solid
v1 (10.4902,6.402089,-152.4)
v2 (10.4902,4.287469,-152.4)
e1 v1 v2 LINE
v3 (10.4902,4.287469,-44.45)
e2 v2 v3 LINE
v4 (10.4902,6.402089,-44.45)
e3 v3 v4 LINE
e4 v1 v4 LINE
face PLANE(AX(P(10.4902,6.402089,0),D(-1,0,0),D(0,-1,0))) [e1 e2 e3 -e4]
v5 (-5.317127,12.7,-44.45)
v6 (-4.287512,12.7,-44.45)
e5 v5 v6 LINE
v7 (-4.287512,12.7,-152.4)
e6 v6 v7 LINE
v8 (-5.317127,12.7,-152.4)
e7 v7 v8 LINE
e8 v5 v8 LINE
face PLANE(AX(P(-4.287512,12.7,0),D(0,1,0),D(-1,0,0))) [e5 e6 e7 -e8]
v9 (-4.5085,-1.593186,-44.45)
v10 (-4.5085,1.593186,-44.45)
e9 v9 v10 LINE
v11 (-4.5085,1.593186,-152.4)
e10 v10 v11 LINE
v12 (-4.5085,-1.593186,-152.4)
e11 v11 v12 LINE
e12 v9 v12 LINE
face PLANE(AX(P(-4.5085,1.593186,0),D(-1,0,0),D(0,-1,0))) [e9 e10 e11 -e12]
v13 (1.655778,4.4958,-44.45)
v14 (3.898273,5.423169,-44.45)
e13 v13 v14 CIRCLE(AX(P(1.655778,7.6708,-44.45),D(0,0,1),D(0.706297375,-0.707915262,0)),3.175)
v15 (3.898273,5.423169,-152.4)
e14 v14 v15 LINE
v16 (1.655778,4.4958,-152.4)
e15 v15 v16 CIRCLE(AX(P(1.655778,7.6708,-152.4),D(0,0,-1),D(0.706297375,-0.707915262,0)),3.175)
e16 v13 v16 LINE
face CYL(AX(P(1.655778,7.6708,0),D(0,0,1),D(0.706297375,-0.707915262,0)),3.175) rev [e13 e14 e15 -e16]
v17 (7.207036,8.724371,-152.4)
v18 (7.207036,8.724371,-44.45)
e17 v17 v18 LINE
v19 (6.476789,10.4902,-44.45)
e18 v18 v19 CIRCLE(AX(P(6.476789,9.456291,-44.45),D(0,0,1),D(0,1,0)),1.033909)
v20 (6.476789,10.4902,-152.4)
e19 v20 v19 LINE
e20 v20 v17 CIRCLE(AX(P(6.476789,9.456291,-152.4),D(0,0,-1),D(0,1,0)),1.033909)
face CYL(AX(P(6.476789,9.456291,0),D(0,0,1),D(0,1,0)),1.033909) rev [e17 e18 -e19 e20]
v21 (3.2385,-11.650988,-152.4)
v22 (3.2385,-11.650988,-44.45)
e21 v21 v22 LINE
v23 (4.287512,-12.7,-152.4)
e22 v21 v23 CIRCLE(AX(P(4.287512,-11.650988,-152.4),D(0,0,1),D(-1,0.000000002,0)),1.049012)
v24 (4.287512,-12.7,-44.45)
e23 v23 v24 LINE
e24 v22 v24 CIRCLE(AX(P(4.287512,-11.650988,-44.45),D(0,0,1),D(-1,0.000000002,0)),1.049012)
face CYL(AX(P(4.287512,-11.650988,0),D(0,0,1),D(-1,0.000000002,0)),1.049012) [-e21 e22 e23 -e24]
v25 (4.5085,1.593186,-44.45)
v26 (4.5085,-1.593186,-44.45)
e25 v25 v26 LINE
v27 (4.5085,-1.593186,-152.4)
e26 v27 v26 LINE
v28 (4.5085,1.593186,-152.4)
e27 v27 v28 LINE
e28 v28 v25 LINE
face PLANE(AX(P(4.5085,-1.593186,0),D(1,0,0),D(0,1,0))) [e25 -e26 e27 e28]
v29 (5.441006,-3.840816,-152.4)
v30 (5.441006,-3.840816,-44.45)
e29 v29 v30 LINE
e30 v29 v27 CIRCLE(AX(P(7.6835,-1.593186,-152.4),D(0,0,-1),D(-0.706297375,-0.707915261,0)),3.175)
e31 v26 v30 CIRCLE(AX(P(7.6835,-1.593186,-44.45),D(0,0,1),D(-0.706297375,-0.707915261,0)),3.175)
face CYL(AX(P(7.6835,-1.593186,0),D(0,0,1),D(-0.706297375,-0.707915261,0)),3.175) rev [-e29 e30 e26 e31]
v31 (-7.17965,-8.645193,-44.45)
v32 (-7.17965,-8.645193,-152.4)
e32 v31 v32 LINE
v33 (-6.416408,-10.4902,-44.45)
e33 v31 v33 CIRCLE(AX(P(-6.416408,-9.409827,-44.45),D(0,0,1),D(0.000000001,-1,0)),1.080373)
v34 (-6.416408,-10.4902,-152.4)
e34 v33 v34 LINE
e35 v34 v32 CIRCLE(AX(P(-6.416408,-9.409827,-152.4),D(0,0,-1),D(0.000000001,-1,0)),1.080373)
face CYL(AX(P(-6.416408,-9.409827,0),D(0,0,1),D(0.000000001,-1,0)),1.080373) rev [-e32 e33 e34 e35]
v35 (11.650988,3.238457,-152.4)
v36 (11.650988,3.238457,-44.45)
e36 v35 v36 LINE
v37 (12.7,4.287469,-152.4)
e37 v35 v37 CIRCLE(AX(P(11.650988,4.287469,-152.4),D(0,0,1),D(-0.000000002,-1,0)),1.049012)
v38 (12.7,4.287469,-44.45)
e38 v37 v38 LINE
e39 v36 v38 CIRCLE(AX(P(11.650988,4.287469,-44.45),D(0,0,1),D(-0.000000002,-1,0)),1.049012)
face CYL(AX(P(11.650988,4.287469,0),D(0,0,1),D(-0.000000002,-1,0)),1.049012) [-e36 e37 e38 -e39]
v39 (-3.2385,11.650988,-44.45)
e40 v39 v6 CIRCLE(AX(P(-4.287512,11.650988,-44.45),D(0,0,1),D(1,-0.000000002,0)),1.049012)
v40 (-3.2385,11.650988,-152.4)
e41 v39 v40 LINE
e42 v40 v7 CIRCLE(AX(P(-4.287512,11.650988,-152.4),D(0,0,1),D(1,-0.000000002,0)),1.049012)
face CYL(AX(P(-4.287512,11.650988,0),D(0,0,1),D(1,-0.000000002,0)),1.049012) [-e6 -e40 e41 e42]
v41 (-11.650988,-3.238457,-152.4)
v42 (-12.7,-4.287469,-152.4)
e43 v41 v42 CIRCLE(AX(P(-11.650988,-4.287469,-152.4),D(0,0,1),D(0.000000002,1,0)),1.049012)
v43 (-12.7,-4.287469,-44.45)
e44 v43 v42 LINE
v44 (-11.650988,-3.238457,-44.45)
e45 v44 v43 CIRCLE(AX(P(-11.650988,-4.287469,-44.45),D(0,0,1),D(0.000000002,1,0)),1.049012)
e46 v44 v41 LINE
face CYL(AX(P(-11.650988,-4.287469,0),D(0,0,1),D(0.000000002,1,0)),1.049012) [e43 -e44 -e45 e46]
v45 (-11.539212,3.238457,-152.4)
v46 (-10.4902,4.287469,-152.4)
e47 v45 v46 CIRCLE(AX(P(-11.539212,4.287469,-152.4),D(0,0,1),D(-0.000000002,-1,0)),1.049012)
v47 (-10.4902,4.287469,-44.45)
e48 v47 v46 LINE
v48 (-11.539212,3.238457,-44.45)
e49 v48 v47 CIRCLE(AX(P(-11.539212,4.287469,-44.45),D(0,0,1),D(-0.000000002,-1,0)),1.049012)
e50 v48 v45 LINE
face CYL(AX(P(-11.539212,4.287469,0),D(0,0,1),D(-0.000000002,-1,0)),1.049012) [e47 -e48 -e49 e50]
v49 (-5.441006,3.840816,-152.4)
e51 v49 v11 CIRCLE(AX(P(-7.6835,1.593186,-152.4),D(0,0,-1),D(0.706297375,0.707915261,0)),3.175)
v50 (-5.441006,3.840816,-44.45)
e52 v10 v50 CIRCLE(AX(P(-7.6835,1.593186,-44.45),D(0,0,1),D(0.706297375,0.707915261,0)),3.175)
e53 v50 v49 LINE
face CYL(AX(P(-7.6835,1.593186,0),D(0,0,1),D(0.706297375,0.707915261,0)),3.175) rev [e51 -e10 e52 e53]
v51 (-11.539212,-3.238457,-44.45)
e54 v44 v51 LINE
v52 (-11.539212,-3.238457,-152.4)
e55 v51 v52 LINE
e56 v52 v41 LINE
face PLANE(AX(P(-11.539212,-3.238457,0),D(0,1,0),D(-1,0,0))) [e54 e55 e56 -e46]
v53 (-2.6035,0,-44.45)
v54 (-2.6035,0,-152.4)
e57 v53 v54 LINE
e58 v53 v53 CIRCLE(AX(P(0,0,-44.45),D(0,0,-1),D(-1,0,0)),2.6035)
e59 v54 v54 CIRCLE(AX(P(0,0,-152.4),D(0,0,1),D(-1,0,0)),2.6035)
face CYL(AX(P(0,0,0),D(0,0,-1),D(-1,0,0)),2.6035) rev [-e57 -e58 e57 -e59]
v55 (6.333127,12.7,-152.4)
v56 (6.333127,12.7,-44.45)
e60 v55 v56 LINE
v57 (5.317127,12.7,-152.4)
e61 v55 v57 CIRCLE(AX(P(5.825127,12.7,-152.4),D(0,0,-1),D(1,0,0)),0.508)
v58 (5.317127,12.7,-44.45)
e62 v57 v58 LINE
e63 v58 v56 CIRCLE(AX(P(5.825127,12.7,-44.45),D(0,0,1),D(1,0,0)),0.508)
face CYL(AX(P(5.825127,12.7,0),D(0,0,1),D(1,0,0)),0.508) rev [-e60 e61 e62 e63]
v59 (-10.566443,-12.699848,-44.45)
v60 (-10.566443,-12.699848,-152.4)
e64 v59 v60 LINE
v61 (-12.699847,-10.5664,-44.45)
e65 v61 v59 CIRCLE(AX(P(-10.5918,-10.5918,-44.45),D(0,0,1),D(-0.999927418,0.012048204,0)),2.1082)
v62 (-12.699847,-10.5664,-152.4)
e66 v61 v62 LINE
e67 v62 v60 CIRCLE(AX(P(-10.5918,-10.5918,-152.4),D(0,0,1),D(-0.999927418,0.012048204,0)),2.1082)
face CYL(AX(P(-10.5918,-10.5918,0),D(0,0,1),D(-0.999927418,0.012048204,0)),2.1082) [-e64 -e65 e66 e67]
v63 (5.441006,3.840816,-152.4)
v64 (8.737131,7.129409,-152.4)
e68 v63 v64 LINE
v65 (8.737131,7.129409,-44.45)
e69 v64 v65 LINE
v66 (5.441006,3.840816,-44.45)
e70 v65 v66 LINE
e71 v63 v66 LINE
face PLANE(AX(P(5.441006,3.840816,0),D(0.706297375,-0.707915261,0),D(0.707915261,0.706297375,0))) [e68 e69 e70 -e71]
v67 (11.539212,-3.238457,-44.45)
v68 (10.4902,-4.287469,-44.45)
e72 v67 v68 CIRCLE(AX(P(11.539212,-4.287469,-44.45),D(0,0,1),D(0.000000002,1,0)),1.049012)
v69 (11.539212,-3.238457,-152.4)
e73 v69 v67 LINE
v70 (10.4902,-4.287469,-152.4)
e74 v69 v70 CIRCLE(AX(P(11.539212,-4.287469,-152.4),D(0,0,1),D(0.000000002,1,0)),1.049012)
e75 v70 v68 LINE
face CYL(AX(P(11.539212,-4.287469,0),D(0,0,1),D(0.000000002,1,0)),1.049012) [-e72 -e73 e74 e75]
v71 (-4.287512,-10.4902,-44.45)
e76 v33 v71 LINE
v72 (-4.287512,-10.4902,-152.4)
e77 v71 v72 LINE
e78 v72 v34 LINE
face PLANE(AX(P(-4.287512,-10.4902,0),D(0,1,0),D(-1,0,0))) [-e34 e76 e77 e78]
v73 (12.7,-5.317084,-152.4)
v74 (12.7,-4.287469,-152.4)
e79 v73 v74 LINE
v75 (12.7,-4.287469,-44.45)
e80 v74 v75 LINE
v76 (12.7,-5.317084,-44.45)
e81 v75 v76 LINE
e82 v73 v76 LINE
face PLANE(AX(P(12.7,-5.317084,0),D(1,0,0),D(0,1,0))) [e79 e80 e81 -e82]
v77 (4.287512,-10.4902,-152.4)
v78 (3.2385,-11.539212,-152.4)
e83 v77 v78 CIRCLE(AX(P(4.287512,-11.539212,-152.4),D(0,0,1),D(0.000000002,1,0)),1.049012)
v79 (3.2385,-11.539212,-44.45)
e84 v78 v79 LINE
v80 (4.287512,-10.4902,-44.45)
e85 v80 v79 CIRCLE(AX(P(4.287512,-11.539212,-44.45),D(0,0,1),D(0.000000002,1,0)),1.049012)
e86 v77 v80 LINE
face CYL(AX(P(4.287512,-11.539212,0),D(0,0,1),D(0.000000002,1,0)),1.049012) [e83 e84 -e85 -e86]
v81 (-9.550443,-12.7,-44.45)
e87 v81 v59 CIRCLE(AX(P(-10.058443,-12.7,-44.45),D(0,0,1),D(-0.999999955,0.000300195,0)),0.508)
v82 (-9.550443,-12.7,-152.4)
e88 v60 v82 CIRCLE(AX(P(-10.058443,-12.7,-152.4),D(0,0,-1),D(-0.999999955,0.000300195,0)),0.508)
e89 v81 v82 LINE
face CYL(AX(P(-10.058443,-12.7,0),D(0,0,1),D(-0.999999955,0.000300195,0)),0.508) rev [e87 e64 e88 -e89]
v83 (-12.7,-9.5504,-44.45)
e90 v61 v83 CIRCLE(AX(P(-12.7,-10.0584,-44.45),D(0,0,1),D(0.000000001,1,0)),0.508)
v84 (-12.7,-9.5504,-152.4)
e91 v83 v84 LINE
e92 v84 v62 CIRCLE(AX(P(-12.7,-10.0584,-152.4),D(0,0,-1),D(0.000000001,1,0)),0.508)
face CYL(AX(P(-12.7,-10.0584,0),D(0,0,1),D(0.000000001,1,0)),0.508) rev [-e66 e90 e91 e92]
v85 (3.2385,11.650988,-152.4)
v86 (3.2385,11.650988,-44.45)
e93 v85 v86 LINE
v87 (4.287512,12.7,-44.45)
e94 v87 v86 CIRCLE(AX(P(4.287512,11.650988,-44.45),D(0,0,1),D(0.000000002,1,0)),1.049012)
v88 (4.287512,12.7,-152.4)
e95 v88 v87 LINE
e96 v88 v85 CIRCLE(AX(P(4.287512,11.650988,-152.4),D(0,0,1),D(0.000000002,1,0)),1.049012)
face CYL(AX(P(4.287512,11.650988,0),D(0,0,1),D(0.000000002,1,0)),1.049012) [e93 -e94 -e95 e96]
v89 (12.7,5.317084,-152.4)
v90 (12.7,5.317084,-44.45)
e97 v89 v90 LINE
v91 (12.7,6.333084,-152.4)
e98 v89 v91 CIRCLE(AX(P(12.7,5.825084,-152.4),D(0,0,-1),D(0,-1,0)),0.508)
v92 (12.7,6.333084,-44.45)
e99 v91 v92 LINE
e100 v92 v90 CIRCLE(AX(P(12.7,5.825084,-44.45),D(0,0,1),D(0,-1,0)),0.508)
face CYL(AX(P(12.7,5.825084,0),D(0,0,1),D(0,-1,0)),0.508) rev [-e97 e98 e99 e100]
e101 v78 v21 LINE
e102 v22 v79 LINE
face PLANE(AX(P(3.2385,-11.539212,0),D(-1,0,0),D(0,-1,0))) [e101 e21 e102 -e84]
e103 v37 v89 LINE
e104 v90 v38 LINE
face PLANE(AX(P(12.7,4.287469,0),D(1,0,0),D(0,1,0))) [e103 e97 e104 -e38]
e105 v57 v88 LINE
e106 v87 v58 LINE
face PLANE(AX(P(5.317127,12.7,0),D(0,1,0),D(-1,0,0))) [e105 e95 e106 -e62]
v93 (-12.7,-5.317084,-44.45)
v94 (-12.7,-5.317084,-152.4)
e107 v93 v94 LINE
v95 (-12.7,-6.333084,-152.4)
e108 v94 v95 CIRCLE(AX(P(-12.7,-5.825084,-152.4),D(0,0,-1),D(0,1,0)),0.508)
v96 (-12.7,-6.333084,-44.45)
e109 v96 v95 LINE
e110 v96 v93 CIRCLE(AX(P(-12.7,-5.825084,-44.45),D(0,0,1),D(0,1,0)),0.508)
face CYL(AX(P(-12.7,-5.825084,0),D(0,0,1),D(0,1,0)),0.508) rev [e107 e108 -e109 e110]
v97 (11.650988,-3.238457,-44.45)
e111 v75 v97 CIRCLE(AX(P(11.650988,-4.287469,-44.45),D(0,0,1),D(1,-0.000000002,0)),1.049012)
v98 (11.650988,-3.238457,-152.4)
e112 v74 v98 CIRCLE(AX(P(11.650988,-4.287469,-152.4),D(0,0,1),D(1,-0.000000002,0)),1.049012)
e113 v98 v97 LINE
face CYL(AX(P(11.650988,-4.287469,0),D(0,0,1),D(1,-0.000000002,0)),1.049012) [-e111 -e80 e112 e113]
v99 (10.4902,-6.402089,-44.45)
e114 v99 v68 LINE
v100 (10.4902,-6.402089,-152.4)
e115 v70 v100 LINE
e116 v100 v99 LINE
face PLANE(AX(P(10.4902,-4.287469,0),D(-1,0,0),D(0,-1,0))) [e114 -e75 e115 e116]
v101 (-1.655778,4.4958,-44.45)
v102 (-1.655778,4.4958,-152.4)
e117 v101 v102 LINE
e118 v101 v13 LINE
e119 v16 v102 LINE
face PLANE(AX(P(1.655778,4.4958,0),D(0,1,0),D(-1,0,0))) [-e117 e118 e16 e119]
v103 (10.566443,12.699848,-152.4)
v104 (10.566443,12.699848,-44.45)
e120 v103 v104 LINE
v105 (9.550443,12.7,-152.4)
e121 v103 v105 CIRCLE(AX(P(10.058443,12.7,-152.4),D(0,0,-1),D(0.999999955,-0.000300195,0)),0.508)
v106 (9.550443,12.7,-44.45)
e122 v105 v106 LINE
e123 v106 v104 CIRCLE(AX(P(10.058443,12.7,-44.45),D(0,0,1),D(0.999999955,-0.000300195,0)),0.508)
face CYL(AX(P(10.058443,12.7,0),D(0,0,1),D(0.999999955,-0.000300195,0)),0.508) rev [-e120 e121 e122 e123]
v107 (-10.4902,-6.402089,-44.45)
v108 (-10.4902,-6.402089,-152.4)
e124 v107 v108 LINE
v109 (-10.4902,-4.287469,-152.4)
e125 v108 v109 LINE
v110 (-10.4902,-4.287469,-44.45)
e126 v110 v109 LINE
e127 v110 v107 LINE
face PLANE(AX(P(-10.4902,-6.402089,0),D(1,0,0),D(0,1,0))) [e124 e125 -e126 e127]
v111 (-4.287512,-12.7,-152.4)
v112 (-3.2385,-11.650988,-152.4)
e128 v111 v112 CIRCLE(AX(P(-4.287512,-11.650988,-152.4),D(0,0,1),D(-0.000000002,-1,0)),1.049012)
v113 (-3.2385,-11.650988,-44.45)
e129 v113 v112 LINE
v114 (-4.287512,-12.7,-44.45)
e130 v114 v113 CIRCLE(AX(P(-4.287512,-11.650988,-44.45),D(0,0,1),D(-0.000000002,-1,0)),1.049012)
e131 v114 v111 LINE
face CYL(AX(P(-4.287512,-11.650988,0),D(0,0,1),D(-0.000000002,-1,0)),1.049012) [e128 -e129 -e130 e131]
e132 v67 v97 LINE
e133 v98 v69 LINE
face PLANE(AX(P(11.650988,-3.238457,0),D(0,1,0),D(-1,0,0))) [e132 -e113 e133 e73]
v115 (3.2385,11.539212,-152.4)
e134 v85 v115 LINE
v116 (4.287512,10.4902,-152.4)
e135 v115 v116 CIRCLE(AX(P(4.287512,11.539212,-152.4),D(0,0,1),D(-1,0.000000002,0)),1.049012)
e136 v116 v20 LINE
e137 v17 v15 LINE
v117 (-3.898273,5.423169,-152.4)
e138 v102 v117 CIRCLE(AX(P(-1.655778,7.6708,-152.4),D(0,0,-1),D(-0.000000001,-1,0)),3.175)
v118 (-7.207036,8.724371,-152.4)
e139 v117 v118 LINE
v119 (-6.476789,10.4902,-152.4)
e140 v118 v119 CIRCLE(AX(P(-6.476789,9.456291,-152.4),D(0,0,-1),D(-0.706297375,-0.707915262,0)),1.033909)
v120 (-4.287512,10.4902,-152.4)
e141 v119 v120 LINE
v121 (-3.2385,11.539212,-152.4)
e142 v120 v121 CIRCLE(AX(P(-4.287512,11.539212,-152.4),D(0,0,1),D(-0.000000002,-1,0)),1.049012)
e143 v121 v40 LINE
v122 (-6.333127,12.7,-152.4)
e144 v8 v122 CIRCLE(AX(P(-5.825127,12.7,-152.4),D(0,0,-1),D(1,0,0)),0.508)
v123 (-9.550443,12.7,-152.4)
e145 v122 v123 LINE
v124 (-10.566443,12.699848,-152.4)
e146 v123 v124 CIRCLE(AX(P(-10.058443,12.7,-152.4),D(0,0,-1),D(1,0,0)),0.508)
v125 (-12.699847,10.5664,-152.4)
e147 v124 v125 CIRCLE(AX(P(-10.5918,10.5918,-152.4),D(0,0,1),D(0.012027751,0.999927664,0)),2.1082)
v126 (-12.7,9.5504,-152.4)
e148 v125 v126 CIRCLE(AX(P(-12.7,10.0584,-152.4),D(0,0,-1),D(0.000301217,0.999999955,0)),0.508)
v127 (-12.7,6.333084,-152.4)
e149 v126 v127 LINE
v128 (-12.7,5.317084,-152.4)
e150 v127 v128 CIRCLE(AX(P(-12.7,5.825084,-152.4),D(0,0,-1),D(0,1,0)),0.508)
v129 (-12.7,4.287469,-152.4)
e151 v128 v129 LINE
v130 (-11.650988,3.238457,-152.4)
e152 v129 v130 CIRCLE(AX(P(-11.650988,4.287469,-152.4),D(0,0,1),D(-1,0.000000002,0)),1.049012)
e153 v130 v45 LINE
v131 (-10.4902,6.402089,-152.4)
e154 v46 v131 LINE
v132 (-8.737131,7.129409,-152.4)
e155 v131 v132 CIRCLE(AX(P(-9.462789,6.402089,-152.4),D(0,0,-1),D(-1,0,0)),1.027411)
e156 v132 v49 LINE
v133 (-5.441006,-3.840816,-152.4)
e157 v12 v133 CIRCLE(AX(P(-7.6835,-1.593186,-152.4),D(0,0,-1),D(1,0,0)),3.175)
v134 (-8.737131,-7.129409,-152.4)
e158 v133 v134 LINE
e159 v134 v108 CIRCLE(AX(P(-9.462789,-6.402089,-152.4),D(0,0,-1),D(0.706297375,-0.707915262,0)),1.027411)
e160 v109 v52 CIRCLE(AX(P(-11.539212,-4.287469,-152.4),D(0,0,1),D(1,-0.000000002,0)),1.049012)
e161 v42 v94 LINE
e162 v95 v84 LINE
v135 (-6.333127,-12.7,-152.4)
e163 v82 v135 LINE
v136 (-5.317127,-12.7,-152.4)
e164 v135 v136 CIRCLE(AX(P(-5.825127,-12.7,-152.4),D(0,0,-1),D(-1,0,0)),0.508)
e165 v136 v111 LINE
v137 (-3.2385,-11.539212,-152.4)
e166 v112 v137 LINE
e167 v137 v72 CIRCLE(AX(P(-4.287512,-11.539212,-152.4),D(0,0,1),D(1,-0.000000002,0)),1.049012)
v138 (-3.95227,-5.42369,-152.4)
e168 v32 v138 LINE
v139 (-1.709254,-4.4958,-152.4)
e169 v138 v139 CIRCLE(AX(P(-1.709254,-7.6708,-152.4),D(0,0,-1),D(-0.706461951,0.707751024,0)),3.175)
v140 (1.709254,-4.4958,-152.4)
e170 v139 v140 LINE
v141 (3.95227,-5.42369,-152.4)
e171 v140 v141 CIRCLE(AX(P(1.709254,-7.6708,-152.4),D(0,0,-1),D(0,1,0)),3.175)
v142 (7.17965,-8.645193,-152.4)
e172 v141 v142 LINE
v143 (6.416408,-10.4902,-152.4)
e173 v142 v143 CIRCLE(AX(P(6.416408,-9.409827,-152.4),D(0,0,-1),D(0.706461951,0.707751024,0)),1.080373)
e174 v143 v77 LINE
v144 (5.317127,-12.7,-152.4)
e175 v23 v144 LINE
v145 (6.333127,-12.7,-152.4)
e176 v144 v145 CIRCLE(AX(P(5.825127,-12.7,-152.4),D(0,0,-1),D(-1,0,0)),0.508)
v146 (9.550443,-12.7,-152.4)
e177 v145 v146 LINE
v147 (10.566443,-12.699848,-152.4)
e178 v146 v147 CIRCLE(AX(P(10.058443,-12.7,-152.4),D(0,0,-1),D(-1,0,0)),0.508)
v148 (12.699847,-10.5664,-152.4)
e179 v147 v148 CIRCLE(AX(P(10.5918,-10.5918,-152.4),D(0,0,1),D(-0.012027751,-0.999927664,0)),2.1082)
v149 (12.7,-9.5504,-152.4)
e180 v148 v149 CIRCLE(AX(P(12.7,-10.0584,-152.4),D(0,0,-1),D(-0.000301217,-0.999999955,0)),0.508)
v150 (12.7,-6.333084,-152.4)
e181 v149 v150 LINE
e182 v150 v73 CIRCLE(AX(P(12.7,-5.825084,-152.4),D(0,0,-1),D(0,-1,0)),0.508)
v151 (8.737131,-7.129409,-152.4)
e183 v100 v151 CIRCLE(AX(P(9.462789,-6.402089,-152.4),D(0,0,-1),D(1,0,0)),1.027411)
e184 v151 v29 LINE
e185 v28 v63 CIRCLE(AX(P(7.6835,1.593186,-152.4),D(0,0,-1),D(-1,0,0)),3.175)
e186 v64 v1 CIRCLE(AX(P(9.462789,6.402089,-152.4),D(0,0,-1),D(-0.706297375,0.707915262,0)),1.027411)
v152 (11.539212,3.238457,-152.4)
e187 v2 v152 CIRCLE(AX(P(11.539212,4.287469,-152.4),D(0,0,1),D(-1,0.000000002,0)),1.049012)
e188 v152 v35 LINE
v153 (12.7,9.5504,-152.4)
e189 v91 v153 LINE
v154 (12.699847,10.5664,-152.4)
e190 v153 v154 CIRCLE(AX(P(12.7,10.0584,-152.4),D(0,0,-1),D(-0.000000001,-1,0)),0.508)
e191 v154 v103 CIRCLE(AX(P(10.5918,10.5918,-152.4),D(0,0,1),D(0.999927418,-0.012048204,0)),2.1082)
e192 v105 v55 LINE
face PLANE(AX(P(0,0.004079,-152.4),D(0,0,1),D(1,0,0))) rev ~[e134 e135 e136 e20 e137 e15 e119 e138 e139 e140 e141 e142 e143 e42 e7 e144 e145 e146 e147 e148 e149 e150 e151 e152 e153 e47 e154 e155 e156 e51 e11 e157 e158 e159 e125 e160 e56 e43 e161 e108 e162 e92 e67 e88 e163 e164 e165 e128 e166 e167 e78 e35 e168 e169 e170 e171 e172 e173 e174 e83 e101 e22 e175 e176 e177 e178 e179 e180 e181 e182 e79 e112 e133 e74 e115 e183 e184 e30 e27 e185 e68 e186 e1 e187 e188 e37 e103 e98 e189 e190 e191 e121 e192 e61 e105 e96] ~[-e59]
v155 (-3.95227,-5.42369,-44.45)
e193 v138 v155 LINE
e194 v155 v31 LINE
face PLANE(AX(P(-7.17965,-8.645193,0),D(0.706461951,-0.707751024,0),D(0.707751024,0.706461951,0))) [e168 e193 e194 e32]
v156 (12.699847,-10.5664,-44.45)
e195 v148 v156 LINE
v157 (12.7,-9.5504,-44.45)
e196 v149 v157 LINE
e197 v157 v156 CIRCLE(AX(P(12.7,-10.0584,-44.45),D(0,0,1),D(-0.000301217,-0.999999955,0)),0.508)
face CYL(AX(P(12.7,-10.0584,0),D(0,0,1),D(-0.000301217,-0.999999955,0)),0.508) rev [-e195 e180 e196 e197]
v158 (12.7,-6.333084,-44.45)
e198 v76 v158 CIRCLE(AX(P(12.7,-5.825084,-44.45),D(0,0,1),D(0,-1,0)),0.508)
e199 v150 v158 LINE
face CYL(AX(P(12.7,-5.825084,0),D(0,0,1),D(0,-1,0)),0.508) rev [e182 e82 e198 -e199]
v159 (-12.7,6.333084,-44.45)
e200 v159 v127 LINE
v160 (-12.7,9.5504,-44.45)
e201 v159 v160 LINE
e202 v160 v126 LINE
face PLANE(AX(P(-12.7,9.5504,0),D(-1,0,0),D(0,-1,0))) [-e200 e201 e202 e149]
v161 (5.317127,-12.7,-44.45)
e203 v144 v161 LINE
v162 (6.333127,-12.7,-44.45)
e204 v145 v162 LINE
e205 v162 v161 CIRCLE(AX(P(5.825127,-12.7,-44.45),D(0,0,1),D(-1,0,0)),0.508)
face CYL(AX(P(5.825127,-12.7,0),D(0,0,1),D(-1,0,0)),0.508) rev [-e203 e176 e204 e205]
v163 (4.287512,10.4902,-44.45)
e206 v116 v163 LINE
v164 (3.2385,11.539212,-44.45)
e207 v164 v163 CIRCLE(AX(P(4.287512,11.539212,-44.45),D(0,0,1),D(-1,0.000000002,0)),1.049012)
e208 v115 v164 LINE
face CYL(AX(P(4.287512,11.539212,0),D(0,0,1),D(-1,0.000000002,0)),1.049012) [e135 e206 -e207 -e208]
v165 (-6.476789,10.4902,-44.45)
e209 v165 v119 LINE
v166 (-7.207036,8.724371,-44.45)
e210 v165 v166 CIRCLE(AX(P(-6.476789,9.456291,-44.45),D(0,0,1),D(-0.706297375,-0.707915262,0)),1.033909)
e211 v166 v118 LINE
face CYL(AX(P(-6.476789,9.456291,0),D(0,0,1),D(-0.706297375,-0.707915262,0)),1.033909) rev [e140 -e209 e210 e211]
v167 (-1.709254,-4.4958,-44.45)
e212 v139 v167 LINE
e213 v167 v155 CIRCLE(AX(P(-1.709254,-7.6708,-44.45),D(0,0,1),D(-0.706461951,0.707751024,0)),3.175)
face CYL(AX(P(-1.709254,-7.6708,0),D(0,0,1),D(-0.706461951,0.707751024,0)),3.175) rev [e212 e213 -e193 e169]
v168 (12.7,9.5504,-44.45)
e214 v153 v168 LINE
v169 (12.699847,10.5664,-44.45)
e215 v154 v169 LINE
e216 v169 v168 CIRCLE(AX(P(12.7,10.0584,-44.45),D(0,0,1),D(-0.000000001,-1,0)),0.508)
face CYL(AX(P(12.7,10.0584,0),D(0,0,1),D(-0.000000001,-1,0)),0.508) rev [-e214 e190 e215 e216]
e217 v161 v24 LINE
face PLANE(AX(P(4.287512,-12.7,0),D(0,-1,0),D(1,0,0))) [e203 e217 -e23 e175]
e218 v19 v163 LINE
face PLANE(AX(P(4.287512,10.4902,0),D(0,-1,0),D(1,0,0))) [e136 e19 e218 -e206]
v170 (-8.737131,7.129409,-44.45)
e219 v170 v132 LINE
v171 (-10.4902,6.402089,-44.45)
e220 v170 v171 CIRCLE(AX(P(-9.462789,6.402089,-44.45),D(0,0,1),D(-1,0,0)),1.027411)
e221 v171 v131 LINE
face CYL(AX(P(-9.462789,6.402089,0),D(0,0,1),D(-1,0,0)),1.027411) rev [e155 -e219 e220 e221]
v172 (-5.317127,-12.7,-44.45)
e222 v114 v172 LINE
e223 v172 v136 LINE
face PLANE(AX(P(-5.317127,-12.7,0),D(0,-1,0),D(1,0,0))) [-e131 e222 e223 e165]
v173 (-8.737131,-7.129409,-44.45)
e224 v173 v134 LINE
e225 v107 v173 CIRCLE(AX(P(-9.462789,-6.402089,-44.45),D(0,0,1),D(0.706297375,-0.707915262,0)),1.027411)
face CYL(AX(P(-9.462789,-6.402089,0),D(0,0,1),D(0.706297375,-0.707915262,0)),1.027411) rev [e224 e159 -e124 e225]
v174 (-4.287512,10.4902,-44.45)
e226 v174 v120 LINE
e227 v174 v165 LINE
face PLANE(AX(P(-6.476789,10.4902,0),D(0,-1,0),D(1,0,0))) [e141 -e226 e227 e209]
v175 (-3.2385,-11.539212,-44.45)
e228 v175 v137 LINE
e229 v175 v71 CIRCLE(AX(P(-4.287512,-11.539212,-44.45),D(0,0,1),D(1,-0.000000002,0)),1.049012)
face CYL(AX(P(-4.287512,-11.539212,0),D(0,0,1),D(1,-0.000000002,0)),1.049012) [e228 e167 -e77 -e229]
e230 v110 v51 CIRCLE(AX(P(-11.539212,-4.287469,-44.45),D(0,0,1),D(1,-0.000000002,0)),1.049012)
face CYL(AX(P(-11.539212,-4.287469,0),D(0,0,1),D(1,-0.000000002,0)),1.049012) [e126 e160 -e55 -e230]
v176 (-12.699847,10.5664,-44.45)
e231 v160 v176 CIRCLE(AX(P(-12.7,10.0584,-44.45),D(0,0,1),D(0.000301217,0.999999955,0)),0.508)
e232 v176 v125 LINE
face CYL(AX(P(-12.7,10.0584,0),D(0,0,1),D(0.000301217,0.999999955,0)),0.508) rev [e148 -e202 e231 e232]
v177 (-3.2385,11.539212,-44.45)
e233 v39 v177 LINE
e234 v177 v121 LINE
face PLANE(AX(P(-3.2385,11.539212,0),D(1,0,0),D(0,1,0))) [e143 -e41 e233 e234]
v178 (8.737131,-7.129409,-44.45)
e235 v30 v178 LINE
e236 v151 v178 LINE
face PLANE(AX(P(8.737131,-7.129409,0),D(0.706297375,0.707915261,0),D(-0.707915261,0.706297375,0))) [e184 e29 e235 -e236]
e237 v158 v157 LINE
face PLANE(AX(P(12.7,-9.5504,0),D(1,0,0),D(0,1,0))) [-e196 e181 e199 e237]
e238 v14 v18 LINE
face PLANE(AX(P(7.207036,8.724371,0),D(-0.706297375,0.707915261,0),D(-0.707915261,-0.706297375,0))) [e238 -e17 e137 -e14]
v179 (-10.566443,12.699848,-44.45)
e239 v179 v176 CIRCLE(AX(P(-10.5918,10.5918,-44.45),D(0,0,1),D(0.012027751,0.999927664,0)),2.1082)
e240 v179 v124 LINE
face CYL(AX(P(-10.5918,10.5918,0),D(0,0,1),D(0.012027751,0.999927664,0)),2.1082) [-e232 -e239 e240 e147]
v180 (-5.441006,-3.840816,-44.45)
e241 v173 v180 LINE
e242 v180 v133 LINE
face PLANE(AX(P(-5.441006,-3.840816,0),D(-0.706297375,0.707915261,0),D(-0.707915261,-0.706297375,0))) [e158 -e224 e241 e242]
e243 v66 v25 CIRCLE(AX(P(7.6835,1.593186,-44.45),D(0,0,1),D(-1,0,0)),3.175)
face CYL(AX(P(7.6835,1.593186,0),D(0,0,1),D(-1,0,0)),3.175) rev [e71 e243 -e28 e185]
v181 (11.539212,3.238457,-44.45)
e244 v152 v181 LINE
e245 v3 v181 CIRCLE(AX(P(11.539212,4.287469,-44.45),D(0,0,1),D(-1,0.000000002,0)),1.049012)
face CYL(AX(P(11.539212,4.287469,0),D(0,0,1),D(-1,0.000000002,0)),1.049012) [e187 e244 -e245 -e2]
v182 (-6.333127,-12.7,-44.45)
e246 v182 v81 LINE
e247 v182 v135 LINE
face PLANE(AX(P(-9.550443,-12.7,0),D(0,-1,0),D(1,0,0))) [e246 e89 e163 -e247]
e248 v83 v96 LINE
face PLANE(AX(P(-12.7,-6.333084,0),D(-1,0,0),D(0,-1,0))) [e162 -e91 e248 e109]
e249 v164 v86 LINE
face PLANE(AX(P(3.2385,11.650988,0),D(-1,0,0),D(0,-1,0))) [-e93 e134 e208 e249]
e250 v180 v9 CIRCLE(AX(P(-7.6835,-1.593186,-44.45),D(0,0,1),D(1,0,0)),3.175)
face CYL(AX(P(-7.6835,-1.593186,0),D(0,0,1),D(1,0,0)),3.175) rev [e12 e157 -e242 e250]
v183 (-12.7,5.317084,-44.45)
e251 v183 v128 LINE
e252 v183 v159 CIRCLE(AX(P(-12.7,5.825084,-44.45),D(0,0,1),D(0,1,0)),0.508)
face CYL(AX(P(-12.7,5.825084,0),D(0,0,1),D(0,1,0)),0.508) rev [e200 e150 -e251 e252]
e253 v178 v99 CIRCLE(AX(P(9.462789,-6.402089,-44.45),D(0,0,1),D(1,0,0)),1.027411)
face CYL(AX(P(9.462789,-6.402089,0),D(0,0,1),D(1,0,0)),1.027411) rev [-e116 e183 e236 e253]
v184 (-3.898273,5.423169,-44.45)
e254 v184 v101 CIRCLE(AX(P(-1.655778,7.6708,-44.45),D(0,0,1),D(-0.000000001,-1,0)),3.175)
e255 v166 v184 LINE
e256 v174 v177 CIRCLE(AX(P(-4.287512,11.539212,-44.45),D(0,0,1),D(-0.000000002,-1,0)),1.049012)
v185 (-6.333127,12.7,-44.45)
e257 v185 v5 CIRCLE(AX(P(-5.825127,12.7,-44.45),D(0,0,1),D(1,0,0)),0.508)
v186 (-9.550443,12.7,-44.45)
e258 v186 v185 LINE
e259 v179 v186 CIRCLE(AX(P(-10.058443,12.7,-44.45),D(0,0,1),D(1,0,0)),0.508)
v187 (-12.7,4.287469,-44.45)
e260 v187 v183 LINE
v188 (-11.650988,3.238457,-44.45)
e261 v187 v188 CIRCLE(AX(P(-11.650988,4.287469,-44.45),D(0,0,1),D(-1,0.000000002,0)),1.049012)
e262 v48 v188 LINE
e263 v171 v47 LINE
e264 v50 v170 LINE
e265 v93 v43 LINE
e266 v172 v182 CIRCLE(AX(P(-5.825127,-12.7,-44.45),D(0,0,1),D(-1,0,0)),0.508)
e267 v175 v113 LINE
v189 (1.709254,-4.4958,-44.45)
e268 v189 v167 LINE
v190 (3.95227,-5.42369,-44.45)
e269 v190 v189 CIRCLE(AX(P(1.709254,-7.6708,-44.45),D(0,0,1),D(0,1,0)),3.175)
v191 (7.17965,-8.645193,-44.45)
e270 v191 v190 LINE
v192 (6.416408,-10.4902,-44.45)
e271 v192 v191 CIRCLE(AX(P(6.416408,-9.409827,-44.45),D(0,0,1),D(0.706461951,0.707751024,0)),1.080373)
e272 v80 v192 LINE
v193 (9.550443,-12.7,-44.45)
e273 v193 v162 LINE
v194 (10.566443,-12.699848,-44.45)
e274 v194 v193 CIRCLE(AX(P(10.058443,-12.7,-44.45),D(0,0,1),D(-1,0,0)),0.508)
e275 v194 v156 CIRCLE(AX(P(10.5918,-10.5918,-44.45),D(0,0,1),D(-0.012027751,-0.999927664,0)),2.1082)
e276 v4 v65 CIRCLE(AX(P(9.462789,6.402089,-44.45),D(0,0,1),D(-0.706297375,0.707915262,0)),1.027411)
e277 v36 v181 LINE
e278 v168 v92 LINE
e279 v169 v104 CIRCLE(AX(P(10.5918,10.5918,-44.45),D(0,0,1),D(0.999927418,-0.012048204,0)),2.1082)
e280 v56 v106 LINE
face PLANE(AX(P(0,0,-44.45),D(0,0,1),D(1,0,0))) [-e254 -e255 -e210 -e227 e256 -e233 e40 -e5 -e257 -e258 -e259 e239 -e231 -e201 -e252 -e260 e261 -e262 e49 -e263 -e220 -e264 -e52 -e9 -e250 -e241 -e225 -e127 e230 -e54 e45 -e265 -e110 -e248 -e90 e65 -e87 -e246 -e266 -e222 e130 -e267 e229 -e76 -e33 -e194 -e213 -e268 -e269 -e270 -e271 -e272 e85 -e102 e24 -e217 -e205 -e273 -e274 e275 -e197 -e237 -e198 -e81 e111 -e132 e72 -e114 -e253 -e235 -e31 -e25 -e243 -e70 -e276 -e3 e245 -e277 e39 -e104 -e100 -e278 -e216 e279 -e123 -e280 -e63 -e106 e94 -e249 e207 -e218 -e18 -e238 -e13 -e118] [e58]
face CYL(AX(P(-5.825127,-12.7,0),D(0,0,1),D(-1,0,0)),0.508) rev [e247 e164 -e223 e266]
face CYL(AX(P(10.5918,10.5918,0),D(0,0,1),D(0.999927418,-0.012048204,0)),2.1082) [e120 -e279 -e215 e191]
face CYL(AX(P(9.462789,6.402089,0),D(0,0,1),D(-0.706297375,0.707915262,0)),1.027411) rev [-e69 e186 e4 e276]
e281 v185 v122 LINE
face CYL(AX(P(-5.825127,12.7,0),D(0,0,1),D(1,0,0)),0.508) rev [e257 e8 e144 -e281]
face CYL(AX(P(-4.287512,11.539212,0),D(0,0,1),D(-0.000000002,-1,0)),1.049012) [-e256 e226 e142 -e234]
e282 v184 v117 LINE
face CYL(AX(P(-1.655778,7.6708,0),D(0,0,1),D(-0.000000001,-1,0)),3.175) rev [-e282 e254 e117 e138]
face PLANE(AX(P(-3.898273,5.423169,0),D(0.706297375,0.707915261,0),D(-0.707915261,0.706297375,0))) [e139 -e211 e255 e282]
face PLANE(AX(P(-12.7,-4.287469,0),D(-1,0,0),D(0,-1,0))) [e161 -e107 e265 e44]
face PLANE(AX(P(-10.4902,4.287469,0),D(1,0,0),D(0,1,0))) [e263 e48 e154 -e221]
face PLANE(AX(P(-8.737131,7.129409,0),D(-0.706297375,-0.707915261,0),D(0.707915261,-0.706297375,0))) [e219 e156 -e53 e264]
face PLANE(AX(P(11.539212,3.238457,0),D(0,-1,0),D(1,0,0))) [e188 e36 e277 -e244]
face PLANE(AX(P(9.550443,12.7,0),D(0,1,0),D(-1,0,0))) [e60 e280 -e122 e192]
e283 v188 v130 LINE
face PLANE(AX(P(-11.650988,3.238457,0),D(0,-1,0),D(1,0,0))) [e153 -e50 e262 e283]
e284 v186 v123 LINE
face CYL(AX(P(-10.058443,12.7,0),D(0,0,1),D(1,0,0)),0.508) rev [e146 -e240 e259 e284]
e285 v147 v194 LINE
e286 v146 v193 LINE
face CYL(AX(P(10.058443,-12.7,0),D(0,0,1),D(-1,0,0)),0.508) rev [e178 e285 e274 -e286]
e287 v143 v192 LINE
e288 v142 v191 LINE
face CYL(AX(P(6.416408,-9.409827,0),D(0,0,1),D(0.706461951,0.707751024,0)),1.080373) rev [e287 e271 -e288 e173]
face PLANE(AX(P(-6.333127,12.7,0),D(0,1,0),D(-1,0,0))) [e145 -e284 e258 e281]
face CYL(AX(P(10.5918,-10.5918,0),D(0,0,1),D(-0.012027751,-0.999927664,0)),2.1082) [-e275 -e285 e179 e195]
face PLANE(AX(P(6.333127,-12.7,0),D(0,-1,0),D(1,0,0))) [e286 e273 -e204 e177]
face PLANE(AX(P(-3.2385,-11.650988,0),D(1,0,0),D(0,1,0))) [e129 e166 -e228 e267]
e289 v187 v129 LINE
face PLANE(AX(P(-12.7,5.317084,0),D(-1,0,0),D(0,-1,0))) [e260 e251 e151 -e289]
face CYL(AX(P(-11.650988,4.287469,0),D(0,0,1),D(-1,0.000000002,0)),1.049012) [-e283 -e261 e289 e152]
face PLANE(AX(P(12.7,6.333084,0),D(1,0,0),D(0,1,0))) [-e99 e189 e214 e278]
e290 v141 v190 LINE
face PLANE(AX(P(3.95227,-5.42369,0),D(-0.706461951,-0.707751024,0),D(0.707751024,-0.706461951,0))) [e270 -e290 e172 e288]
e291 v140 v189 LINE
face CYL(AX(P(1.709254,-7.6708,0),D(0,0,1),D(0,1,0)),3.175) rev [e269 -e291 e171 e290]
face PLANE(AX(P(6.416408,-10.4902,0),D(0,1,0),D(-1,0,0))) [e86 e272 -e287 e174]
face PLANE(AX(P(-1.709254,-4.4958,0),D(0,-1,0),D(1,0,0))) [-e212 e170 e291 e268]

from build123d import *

# Parameters (mm, degrees)
SKETCH1_R           = 2.6035
BOSS_EXTRUDE1_DEPTH = 152.4
SKETCH2_R           = 22.79263682
CUT_EXTRUDE1_DEPTH  = 196.85


with BuildPart() as part:
    # Sketch1 → Boss-Extrude1 (new, symmetric)
    with BuildSketch(Plane.XY):
        with BuildLine():
            Line((-7.179650497, -8.645192506), (-3.952270251, -5.423690499))
            ThreePointArc((-3.952270251, -5.423690499), (-2.922936451, -4.736929036), (-1.709253557, -4.4958))
            Line((-1.709253557, -4.4958), (1.709253557, -4.4958))
            ThreePointArc((1.709253557, -4.4958), (2.922936451, -4.736929036), (3.952270251, -5.423690499))
            Line((3.952270251, -5.423690499), (7.179650497, -8.645192506))
            ThreePointArc((7.179650497, -8.645192506), (7.41473083, -9.822813117), (6.416408329, -10.4902))
            Line((6.416408329, -10.4902), (4.287512407, -10.4902))
            ThreePointArc((4.287512407, -10.4902), (3.54574862, -10.79744862), (3.2385, -11.539212407))
            Line((3.2385, -11.539212407), (3.2385, -11.650987593))
            ThreePointArc((3.2385, -11.650987593), (3.54574862, -12.39275138), (4.287512407, -12.7))
            Line((4.287512407, -12.7), (5.317126718, -12.7))
            ThreePointArc((5.317126718, -12.7), (5.825126718, -12.192), (6.333126718, -12.7))
            Line((6.333126718, -12.7), (9.550443118, -12.7))
            ThreePointArc((9.550443118, -12.7), (10.058366869, -12.192000006), (10.566443095, -12.699847501))
            ThreePointArc((10.566443095, -12.699847501), (12.082537762, -12.08250727), (12.699846982, -10.566399977))
            ThreePointArc((12.699846982, -10.566399977), (12.192000006, -10.058323491), (12.7, -9.5504))
            Line((12.7, -9.5504), (12.7, -6.3330836))
            ThreePointArc((12.7, -6.3330836), (12.192, -5.8250836), (12.7, -5.3170836))
            Line((12.7, -5.3170836), (12.7, -4.287469289))
            ThreePointArc((12.7, -4.287469289), (12.39275138, -3.545705502), (11.650987593, -3.238456882))
            Line((11.650987593, -3.238456882), (11.539212407, -3.238456882))
            ThreePointArc((11.539212407, -3.238456882), (10.79744862, -3.545705502), (10.4902, -4.287469289))
            Line((10.4902, -4.287469289), (10.4902, -6.402089023))
            ThreePointArc((10.4902, -6.402089023), (9.856505071, -7.351067942), (8.737131347, -7.129408934))
            Line((8.737131347, -7.129408934), (5.441005833, -3.840816462))
            ThreePointArc((5.441005833, -3.840816462), (4.750877967, -2.809883091), (4.5085, -1.593185507))
            Line((4.5085, -1.593185507), (4.5085, 1.593185507))
            ThreePointArc((4.5085, 1.593185507), (4.750877967, 2.809883091), (5.441005833, 3.840816462))
            Line((5.441005833, 3.840816462), (8.737131347, 7.129408934))
            ThreePointArc((8.737131347, 7.129408934), (9.856505071, 7.351067942), (10.4902, 6.402089023))
            Line((10.4902, 6.402089023), (10.4902, 4.287469289))
            ThreePointArc((10.4902, 4.287469289), (10.79744862, 3.545705502), (11.539212407, 3.238456882))
            Line((11.539212407, 3.238456882), (11.650987593, 3.238456882))
            ThreePointArc((11.650987593, 3.238456882), (12.39275138, 3.545705502), (12.7, 4.287469289))
            Line((12.7, 4.287469289), (12.7, 5.3170836))
            ThreePointArc((12.7, 5.3170836), (12.192, 5.8250836), (12.7, 6.3330836))
            Line((12.7, 6.3330836), (12.7, 9.5504))
            ThreePointArc((12.7, 9.5504), (12.192000006, 10.058323491), (12.699846982, 10.566399977))
            ThreePointArc((12.699846982, 10.566399977), (12.082537762, 12.08250727), (10.566443095, 12.699847501))
            ThreePointArc((10.566443095, 12.699847501), (10.058366869, 12.192000006), (9.550443118, 12.7))
            Line((9.550443118, 12.7), (6.333126718, 12.7))
            ThreePointArc((6.333126718, 12.7), (5.825126718, 12.192), (5.317126718, 12.7))
            Line((5.317126718, 12.7), (4.287512407, 12.7))
            ThreePointArc((4.287512407, 12.7), (3.54574862, 12.39275138), (3.2385, 11.650987593))
            Line((3.2385, 11.650987593), (3.2385, 11.539212407))
            ThreePointArc((3.2385, 11.539212407), (3.54574862, 10.79744862), (4.287512407, 10.4902))
            Line((4.287512407, 10.4902), (6.476788598, 10.4902))
            ThreePointArc((6.476788598, 10.4902), (7.432222385, 9.85140422), (7.207036008, 8.724370562))
            Line((7.207036008, 8.724370562), (3.898272566, 5.423169045))
            ThreePointArc((3.898272566, 5.423169045), (2.869120213, 4.736787962), (1.655778399, 4.4958))
            Line((1.655778399, 4.4958), (-1.655778399, 4.4958))
            ThreePointArc((-1.655778399, 4.4958), (-2.869120213, 4.736787962), (-3.898272566, 5.423169045))
            Line((-3.898272566, 5.423169045), (-7.207036008, 8.724370562))
            ThreePointArc((-7.207036008, 8.724370562), (-7.432222385, 9.85140422), (-6.476788598, 10.4902))
            Line((-6.476788598, 10.4902), (-4.287512407, 10.4902))
            ThreePointArc((-4.287512407, 10.4902), (-3.54574862, 10.79744862), (-3.2385, 11.539212407))
            Line((-3.2385, 11.539212407), (-3.2385, 11.650987593))
            ThreePointArc((-3.2385, 11.650987593), (-3.54574862, 12.39275138), (-4.287512407, 12.7))
            Line((-4.287512407, 12.7), (-5.317126718, 12.7))
            ThreePointArc((-5.317126718, 12.7), (-5.825126718, 12.192), (-6.333126718, 12.7))
            Line((-6.333126718, 12.7), (-9.550443118, 12.7))
            ThreePointArc((-9.550443118, 12.7), (-10.058366869, 12.192000006), (-10.566443095, 12.699847501))
            ThreePointArc((-10.566443095, 12.699847501), (-12.082537762, 12.08250727), (-12.699846982, 10.566399977))
            ThreePointArc((-12.699846982, 10.566399977), (-12.192000006, 10.058323491), (-12.7, 9.5504))
            Line((-12.7, 9.5504), (-12.7, 6.3330836))
            ThreePointArc((-12.7, 6.3330836), (-12.192, 5.8250836), (-12.7, 5.3170836))
            Line((-12.7, 5.3170836), (-12.7, 4.287469289))
            ThreePointArc((-12.7, 4.287469289), (-12.39275138, 3.545705502), (-11.650987593, 3.238456882))
            Line((-11.650987593, 3.238456882), (-11.539212407, 3.238456882))
            ThreePointArc((-11.539212407, 3.238456882), (-10.79744862, 3.545705502), (-10.4902, 4.287469289))
            Line((-10.4902, 4.287469289), (-10.4902, 6.402089023))
            ThreePointArc((-10.4902, 6.402089023), (-9.856505071, 7.351067942), (-8.737131347, 7.129408934))
            Line((-8.737131347, 7.129408934), (-5.441005833, 3.840816462))
            ThreePointArc((-5.441005833, 3.840816462), (-4.750877967, 2.809883091), (-4.5085, 1.593185507))
            Line((-4.5085, 1.593185507), (-4.5085, -1.593185507))
            ThreePointArc((-4.5085, -1.593185507), (-4.750877967, -2.809883091), (-5.441005833, -3.840816462))
            Line((-5.441005833, -3.840816462), (-8.737131347, -7.129408934))
            ThreePointArc((-8.737131347, -7.129408934), (-9.856505071, -7.351067942), (-10.4902, -6.402089023))
            Line((-10.4902, -6.402089023), (-10.4902, -4.287469289))
            ThreePointArc((-10.4902, -4.287469289), (-10.79744862, -3.545705502), (-11.539212407, -3.238456882))
            Line((-11.539212407, -3.238456882), (-11.650987593, -3.238456882))
            ThreePointArc((-11.650987593, -3.238456882), (-12.39275138, -3.545705502), (-12.7, -4.287469289))
            Line((-12.7, -4.287469289), (-12.7, -5.3170836))
            ThreePointArc((-12.7, -5.3170836), (-12.192, -5.8250836), (-12.7, -6.3330836))
            Line((-12.7, -6.3330836), (-12.7, -9.5504))
            ThreePointArc((-12.7, -9.5504), (-12.192000006, -10.058323491), (-12.699846982, -10.566399977))
            ThreePointArc((-12.699846982, -10.566399977), (-12.082537762, -12.08250727), (-10.566443095, -12.699847501))
            ThreePointArc((-10.566443095, -12.699847501), (-10.058366869, -12.192000006), (-9.550443118, -12.7))
            Line((-9.550443118, -12.7), (-6.333126718, -12.7))
            ThreePointArc((-6.333126718, -12.7), (-5.825126718, -12.192), (-5.317126718, -12.7))
            Line((-5.317126718, -12.7), (-4.287512407, -12.7))
            ThreePointArc((-4.287512407, -12.7), (-3.54574862, -12.39275138), (-3.2385, -11.650987593))
            Line((-3.2385, -11.650987593), (-3.2385, -11.539212407))
            ThreePointArc((-3.2385, -11.539212407), (-3.54574862, -10.79744862), (-4.287512407, -10.4902))
            Line((-4.287512407, -10.4902), (-6.416408329, -10.4902))
            ThreePointArc((-6.416408329, -10.4902), (-7.41473083, -9.822813117), (-7.179650497, -8.645192506))
        make_face()
        with Locations(Location((0, 0, 0), (0, 0, 180))):
            Circle(SKETCH1_R, mode=Mode.SUBTRACT)
    extrude(amount=BOSS_EXTRUDE1_DEPTH, both=True)

    # Sketch2 → Cut-Extrude1 (cut)
    with BuildSketch(Plane.XY.offset(152.4)):
        Circle(SKETCH2_R)
    extrude(amount=-CUT_EXTRUDE1_DEPTH, mode=Mode.SUBTRACT)


solid = part.part
